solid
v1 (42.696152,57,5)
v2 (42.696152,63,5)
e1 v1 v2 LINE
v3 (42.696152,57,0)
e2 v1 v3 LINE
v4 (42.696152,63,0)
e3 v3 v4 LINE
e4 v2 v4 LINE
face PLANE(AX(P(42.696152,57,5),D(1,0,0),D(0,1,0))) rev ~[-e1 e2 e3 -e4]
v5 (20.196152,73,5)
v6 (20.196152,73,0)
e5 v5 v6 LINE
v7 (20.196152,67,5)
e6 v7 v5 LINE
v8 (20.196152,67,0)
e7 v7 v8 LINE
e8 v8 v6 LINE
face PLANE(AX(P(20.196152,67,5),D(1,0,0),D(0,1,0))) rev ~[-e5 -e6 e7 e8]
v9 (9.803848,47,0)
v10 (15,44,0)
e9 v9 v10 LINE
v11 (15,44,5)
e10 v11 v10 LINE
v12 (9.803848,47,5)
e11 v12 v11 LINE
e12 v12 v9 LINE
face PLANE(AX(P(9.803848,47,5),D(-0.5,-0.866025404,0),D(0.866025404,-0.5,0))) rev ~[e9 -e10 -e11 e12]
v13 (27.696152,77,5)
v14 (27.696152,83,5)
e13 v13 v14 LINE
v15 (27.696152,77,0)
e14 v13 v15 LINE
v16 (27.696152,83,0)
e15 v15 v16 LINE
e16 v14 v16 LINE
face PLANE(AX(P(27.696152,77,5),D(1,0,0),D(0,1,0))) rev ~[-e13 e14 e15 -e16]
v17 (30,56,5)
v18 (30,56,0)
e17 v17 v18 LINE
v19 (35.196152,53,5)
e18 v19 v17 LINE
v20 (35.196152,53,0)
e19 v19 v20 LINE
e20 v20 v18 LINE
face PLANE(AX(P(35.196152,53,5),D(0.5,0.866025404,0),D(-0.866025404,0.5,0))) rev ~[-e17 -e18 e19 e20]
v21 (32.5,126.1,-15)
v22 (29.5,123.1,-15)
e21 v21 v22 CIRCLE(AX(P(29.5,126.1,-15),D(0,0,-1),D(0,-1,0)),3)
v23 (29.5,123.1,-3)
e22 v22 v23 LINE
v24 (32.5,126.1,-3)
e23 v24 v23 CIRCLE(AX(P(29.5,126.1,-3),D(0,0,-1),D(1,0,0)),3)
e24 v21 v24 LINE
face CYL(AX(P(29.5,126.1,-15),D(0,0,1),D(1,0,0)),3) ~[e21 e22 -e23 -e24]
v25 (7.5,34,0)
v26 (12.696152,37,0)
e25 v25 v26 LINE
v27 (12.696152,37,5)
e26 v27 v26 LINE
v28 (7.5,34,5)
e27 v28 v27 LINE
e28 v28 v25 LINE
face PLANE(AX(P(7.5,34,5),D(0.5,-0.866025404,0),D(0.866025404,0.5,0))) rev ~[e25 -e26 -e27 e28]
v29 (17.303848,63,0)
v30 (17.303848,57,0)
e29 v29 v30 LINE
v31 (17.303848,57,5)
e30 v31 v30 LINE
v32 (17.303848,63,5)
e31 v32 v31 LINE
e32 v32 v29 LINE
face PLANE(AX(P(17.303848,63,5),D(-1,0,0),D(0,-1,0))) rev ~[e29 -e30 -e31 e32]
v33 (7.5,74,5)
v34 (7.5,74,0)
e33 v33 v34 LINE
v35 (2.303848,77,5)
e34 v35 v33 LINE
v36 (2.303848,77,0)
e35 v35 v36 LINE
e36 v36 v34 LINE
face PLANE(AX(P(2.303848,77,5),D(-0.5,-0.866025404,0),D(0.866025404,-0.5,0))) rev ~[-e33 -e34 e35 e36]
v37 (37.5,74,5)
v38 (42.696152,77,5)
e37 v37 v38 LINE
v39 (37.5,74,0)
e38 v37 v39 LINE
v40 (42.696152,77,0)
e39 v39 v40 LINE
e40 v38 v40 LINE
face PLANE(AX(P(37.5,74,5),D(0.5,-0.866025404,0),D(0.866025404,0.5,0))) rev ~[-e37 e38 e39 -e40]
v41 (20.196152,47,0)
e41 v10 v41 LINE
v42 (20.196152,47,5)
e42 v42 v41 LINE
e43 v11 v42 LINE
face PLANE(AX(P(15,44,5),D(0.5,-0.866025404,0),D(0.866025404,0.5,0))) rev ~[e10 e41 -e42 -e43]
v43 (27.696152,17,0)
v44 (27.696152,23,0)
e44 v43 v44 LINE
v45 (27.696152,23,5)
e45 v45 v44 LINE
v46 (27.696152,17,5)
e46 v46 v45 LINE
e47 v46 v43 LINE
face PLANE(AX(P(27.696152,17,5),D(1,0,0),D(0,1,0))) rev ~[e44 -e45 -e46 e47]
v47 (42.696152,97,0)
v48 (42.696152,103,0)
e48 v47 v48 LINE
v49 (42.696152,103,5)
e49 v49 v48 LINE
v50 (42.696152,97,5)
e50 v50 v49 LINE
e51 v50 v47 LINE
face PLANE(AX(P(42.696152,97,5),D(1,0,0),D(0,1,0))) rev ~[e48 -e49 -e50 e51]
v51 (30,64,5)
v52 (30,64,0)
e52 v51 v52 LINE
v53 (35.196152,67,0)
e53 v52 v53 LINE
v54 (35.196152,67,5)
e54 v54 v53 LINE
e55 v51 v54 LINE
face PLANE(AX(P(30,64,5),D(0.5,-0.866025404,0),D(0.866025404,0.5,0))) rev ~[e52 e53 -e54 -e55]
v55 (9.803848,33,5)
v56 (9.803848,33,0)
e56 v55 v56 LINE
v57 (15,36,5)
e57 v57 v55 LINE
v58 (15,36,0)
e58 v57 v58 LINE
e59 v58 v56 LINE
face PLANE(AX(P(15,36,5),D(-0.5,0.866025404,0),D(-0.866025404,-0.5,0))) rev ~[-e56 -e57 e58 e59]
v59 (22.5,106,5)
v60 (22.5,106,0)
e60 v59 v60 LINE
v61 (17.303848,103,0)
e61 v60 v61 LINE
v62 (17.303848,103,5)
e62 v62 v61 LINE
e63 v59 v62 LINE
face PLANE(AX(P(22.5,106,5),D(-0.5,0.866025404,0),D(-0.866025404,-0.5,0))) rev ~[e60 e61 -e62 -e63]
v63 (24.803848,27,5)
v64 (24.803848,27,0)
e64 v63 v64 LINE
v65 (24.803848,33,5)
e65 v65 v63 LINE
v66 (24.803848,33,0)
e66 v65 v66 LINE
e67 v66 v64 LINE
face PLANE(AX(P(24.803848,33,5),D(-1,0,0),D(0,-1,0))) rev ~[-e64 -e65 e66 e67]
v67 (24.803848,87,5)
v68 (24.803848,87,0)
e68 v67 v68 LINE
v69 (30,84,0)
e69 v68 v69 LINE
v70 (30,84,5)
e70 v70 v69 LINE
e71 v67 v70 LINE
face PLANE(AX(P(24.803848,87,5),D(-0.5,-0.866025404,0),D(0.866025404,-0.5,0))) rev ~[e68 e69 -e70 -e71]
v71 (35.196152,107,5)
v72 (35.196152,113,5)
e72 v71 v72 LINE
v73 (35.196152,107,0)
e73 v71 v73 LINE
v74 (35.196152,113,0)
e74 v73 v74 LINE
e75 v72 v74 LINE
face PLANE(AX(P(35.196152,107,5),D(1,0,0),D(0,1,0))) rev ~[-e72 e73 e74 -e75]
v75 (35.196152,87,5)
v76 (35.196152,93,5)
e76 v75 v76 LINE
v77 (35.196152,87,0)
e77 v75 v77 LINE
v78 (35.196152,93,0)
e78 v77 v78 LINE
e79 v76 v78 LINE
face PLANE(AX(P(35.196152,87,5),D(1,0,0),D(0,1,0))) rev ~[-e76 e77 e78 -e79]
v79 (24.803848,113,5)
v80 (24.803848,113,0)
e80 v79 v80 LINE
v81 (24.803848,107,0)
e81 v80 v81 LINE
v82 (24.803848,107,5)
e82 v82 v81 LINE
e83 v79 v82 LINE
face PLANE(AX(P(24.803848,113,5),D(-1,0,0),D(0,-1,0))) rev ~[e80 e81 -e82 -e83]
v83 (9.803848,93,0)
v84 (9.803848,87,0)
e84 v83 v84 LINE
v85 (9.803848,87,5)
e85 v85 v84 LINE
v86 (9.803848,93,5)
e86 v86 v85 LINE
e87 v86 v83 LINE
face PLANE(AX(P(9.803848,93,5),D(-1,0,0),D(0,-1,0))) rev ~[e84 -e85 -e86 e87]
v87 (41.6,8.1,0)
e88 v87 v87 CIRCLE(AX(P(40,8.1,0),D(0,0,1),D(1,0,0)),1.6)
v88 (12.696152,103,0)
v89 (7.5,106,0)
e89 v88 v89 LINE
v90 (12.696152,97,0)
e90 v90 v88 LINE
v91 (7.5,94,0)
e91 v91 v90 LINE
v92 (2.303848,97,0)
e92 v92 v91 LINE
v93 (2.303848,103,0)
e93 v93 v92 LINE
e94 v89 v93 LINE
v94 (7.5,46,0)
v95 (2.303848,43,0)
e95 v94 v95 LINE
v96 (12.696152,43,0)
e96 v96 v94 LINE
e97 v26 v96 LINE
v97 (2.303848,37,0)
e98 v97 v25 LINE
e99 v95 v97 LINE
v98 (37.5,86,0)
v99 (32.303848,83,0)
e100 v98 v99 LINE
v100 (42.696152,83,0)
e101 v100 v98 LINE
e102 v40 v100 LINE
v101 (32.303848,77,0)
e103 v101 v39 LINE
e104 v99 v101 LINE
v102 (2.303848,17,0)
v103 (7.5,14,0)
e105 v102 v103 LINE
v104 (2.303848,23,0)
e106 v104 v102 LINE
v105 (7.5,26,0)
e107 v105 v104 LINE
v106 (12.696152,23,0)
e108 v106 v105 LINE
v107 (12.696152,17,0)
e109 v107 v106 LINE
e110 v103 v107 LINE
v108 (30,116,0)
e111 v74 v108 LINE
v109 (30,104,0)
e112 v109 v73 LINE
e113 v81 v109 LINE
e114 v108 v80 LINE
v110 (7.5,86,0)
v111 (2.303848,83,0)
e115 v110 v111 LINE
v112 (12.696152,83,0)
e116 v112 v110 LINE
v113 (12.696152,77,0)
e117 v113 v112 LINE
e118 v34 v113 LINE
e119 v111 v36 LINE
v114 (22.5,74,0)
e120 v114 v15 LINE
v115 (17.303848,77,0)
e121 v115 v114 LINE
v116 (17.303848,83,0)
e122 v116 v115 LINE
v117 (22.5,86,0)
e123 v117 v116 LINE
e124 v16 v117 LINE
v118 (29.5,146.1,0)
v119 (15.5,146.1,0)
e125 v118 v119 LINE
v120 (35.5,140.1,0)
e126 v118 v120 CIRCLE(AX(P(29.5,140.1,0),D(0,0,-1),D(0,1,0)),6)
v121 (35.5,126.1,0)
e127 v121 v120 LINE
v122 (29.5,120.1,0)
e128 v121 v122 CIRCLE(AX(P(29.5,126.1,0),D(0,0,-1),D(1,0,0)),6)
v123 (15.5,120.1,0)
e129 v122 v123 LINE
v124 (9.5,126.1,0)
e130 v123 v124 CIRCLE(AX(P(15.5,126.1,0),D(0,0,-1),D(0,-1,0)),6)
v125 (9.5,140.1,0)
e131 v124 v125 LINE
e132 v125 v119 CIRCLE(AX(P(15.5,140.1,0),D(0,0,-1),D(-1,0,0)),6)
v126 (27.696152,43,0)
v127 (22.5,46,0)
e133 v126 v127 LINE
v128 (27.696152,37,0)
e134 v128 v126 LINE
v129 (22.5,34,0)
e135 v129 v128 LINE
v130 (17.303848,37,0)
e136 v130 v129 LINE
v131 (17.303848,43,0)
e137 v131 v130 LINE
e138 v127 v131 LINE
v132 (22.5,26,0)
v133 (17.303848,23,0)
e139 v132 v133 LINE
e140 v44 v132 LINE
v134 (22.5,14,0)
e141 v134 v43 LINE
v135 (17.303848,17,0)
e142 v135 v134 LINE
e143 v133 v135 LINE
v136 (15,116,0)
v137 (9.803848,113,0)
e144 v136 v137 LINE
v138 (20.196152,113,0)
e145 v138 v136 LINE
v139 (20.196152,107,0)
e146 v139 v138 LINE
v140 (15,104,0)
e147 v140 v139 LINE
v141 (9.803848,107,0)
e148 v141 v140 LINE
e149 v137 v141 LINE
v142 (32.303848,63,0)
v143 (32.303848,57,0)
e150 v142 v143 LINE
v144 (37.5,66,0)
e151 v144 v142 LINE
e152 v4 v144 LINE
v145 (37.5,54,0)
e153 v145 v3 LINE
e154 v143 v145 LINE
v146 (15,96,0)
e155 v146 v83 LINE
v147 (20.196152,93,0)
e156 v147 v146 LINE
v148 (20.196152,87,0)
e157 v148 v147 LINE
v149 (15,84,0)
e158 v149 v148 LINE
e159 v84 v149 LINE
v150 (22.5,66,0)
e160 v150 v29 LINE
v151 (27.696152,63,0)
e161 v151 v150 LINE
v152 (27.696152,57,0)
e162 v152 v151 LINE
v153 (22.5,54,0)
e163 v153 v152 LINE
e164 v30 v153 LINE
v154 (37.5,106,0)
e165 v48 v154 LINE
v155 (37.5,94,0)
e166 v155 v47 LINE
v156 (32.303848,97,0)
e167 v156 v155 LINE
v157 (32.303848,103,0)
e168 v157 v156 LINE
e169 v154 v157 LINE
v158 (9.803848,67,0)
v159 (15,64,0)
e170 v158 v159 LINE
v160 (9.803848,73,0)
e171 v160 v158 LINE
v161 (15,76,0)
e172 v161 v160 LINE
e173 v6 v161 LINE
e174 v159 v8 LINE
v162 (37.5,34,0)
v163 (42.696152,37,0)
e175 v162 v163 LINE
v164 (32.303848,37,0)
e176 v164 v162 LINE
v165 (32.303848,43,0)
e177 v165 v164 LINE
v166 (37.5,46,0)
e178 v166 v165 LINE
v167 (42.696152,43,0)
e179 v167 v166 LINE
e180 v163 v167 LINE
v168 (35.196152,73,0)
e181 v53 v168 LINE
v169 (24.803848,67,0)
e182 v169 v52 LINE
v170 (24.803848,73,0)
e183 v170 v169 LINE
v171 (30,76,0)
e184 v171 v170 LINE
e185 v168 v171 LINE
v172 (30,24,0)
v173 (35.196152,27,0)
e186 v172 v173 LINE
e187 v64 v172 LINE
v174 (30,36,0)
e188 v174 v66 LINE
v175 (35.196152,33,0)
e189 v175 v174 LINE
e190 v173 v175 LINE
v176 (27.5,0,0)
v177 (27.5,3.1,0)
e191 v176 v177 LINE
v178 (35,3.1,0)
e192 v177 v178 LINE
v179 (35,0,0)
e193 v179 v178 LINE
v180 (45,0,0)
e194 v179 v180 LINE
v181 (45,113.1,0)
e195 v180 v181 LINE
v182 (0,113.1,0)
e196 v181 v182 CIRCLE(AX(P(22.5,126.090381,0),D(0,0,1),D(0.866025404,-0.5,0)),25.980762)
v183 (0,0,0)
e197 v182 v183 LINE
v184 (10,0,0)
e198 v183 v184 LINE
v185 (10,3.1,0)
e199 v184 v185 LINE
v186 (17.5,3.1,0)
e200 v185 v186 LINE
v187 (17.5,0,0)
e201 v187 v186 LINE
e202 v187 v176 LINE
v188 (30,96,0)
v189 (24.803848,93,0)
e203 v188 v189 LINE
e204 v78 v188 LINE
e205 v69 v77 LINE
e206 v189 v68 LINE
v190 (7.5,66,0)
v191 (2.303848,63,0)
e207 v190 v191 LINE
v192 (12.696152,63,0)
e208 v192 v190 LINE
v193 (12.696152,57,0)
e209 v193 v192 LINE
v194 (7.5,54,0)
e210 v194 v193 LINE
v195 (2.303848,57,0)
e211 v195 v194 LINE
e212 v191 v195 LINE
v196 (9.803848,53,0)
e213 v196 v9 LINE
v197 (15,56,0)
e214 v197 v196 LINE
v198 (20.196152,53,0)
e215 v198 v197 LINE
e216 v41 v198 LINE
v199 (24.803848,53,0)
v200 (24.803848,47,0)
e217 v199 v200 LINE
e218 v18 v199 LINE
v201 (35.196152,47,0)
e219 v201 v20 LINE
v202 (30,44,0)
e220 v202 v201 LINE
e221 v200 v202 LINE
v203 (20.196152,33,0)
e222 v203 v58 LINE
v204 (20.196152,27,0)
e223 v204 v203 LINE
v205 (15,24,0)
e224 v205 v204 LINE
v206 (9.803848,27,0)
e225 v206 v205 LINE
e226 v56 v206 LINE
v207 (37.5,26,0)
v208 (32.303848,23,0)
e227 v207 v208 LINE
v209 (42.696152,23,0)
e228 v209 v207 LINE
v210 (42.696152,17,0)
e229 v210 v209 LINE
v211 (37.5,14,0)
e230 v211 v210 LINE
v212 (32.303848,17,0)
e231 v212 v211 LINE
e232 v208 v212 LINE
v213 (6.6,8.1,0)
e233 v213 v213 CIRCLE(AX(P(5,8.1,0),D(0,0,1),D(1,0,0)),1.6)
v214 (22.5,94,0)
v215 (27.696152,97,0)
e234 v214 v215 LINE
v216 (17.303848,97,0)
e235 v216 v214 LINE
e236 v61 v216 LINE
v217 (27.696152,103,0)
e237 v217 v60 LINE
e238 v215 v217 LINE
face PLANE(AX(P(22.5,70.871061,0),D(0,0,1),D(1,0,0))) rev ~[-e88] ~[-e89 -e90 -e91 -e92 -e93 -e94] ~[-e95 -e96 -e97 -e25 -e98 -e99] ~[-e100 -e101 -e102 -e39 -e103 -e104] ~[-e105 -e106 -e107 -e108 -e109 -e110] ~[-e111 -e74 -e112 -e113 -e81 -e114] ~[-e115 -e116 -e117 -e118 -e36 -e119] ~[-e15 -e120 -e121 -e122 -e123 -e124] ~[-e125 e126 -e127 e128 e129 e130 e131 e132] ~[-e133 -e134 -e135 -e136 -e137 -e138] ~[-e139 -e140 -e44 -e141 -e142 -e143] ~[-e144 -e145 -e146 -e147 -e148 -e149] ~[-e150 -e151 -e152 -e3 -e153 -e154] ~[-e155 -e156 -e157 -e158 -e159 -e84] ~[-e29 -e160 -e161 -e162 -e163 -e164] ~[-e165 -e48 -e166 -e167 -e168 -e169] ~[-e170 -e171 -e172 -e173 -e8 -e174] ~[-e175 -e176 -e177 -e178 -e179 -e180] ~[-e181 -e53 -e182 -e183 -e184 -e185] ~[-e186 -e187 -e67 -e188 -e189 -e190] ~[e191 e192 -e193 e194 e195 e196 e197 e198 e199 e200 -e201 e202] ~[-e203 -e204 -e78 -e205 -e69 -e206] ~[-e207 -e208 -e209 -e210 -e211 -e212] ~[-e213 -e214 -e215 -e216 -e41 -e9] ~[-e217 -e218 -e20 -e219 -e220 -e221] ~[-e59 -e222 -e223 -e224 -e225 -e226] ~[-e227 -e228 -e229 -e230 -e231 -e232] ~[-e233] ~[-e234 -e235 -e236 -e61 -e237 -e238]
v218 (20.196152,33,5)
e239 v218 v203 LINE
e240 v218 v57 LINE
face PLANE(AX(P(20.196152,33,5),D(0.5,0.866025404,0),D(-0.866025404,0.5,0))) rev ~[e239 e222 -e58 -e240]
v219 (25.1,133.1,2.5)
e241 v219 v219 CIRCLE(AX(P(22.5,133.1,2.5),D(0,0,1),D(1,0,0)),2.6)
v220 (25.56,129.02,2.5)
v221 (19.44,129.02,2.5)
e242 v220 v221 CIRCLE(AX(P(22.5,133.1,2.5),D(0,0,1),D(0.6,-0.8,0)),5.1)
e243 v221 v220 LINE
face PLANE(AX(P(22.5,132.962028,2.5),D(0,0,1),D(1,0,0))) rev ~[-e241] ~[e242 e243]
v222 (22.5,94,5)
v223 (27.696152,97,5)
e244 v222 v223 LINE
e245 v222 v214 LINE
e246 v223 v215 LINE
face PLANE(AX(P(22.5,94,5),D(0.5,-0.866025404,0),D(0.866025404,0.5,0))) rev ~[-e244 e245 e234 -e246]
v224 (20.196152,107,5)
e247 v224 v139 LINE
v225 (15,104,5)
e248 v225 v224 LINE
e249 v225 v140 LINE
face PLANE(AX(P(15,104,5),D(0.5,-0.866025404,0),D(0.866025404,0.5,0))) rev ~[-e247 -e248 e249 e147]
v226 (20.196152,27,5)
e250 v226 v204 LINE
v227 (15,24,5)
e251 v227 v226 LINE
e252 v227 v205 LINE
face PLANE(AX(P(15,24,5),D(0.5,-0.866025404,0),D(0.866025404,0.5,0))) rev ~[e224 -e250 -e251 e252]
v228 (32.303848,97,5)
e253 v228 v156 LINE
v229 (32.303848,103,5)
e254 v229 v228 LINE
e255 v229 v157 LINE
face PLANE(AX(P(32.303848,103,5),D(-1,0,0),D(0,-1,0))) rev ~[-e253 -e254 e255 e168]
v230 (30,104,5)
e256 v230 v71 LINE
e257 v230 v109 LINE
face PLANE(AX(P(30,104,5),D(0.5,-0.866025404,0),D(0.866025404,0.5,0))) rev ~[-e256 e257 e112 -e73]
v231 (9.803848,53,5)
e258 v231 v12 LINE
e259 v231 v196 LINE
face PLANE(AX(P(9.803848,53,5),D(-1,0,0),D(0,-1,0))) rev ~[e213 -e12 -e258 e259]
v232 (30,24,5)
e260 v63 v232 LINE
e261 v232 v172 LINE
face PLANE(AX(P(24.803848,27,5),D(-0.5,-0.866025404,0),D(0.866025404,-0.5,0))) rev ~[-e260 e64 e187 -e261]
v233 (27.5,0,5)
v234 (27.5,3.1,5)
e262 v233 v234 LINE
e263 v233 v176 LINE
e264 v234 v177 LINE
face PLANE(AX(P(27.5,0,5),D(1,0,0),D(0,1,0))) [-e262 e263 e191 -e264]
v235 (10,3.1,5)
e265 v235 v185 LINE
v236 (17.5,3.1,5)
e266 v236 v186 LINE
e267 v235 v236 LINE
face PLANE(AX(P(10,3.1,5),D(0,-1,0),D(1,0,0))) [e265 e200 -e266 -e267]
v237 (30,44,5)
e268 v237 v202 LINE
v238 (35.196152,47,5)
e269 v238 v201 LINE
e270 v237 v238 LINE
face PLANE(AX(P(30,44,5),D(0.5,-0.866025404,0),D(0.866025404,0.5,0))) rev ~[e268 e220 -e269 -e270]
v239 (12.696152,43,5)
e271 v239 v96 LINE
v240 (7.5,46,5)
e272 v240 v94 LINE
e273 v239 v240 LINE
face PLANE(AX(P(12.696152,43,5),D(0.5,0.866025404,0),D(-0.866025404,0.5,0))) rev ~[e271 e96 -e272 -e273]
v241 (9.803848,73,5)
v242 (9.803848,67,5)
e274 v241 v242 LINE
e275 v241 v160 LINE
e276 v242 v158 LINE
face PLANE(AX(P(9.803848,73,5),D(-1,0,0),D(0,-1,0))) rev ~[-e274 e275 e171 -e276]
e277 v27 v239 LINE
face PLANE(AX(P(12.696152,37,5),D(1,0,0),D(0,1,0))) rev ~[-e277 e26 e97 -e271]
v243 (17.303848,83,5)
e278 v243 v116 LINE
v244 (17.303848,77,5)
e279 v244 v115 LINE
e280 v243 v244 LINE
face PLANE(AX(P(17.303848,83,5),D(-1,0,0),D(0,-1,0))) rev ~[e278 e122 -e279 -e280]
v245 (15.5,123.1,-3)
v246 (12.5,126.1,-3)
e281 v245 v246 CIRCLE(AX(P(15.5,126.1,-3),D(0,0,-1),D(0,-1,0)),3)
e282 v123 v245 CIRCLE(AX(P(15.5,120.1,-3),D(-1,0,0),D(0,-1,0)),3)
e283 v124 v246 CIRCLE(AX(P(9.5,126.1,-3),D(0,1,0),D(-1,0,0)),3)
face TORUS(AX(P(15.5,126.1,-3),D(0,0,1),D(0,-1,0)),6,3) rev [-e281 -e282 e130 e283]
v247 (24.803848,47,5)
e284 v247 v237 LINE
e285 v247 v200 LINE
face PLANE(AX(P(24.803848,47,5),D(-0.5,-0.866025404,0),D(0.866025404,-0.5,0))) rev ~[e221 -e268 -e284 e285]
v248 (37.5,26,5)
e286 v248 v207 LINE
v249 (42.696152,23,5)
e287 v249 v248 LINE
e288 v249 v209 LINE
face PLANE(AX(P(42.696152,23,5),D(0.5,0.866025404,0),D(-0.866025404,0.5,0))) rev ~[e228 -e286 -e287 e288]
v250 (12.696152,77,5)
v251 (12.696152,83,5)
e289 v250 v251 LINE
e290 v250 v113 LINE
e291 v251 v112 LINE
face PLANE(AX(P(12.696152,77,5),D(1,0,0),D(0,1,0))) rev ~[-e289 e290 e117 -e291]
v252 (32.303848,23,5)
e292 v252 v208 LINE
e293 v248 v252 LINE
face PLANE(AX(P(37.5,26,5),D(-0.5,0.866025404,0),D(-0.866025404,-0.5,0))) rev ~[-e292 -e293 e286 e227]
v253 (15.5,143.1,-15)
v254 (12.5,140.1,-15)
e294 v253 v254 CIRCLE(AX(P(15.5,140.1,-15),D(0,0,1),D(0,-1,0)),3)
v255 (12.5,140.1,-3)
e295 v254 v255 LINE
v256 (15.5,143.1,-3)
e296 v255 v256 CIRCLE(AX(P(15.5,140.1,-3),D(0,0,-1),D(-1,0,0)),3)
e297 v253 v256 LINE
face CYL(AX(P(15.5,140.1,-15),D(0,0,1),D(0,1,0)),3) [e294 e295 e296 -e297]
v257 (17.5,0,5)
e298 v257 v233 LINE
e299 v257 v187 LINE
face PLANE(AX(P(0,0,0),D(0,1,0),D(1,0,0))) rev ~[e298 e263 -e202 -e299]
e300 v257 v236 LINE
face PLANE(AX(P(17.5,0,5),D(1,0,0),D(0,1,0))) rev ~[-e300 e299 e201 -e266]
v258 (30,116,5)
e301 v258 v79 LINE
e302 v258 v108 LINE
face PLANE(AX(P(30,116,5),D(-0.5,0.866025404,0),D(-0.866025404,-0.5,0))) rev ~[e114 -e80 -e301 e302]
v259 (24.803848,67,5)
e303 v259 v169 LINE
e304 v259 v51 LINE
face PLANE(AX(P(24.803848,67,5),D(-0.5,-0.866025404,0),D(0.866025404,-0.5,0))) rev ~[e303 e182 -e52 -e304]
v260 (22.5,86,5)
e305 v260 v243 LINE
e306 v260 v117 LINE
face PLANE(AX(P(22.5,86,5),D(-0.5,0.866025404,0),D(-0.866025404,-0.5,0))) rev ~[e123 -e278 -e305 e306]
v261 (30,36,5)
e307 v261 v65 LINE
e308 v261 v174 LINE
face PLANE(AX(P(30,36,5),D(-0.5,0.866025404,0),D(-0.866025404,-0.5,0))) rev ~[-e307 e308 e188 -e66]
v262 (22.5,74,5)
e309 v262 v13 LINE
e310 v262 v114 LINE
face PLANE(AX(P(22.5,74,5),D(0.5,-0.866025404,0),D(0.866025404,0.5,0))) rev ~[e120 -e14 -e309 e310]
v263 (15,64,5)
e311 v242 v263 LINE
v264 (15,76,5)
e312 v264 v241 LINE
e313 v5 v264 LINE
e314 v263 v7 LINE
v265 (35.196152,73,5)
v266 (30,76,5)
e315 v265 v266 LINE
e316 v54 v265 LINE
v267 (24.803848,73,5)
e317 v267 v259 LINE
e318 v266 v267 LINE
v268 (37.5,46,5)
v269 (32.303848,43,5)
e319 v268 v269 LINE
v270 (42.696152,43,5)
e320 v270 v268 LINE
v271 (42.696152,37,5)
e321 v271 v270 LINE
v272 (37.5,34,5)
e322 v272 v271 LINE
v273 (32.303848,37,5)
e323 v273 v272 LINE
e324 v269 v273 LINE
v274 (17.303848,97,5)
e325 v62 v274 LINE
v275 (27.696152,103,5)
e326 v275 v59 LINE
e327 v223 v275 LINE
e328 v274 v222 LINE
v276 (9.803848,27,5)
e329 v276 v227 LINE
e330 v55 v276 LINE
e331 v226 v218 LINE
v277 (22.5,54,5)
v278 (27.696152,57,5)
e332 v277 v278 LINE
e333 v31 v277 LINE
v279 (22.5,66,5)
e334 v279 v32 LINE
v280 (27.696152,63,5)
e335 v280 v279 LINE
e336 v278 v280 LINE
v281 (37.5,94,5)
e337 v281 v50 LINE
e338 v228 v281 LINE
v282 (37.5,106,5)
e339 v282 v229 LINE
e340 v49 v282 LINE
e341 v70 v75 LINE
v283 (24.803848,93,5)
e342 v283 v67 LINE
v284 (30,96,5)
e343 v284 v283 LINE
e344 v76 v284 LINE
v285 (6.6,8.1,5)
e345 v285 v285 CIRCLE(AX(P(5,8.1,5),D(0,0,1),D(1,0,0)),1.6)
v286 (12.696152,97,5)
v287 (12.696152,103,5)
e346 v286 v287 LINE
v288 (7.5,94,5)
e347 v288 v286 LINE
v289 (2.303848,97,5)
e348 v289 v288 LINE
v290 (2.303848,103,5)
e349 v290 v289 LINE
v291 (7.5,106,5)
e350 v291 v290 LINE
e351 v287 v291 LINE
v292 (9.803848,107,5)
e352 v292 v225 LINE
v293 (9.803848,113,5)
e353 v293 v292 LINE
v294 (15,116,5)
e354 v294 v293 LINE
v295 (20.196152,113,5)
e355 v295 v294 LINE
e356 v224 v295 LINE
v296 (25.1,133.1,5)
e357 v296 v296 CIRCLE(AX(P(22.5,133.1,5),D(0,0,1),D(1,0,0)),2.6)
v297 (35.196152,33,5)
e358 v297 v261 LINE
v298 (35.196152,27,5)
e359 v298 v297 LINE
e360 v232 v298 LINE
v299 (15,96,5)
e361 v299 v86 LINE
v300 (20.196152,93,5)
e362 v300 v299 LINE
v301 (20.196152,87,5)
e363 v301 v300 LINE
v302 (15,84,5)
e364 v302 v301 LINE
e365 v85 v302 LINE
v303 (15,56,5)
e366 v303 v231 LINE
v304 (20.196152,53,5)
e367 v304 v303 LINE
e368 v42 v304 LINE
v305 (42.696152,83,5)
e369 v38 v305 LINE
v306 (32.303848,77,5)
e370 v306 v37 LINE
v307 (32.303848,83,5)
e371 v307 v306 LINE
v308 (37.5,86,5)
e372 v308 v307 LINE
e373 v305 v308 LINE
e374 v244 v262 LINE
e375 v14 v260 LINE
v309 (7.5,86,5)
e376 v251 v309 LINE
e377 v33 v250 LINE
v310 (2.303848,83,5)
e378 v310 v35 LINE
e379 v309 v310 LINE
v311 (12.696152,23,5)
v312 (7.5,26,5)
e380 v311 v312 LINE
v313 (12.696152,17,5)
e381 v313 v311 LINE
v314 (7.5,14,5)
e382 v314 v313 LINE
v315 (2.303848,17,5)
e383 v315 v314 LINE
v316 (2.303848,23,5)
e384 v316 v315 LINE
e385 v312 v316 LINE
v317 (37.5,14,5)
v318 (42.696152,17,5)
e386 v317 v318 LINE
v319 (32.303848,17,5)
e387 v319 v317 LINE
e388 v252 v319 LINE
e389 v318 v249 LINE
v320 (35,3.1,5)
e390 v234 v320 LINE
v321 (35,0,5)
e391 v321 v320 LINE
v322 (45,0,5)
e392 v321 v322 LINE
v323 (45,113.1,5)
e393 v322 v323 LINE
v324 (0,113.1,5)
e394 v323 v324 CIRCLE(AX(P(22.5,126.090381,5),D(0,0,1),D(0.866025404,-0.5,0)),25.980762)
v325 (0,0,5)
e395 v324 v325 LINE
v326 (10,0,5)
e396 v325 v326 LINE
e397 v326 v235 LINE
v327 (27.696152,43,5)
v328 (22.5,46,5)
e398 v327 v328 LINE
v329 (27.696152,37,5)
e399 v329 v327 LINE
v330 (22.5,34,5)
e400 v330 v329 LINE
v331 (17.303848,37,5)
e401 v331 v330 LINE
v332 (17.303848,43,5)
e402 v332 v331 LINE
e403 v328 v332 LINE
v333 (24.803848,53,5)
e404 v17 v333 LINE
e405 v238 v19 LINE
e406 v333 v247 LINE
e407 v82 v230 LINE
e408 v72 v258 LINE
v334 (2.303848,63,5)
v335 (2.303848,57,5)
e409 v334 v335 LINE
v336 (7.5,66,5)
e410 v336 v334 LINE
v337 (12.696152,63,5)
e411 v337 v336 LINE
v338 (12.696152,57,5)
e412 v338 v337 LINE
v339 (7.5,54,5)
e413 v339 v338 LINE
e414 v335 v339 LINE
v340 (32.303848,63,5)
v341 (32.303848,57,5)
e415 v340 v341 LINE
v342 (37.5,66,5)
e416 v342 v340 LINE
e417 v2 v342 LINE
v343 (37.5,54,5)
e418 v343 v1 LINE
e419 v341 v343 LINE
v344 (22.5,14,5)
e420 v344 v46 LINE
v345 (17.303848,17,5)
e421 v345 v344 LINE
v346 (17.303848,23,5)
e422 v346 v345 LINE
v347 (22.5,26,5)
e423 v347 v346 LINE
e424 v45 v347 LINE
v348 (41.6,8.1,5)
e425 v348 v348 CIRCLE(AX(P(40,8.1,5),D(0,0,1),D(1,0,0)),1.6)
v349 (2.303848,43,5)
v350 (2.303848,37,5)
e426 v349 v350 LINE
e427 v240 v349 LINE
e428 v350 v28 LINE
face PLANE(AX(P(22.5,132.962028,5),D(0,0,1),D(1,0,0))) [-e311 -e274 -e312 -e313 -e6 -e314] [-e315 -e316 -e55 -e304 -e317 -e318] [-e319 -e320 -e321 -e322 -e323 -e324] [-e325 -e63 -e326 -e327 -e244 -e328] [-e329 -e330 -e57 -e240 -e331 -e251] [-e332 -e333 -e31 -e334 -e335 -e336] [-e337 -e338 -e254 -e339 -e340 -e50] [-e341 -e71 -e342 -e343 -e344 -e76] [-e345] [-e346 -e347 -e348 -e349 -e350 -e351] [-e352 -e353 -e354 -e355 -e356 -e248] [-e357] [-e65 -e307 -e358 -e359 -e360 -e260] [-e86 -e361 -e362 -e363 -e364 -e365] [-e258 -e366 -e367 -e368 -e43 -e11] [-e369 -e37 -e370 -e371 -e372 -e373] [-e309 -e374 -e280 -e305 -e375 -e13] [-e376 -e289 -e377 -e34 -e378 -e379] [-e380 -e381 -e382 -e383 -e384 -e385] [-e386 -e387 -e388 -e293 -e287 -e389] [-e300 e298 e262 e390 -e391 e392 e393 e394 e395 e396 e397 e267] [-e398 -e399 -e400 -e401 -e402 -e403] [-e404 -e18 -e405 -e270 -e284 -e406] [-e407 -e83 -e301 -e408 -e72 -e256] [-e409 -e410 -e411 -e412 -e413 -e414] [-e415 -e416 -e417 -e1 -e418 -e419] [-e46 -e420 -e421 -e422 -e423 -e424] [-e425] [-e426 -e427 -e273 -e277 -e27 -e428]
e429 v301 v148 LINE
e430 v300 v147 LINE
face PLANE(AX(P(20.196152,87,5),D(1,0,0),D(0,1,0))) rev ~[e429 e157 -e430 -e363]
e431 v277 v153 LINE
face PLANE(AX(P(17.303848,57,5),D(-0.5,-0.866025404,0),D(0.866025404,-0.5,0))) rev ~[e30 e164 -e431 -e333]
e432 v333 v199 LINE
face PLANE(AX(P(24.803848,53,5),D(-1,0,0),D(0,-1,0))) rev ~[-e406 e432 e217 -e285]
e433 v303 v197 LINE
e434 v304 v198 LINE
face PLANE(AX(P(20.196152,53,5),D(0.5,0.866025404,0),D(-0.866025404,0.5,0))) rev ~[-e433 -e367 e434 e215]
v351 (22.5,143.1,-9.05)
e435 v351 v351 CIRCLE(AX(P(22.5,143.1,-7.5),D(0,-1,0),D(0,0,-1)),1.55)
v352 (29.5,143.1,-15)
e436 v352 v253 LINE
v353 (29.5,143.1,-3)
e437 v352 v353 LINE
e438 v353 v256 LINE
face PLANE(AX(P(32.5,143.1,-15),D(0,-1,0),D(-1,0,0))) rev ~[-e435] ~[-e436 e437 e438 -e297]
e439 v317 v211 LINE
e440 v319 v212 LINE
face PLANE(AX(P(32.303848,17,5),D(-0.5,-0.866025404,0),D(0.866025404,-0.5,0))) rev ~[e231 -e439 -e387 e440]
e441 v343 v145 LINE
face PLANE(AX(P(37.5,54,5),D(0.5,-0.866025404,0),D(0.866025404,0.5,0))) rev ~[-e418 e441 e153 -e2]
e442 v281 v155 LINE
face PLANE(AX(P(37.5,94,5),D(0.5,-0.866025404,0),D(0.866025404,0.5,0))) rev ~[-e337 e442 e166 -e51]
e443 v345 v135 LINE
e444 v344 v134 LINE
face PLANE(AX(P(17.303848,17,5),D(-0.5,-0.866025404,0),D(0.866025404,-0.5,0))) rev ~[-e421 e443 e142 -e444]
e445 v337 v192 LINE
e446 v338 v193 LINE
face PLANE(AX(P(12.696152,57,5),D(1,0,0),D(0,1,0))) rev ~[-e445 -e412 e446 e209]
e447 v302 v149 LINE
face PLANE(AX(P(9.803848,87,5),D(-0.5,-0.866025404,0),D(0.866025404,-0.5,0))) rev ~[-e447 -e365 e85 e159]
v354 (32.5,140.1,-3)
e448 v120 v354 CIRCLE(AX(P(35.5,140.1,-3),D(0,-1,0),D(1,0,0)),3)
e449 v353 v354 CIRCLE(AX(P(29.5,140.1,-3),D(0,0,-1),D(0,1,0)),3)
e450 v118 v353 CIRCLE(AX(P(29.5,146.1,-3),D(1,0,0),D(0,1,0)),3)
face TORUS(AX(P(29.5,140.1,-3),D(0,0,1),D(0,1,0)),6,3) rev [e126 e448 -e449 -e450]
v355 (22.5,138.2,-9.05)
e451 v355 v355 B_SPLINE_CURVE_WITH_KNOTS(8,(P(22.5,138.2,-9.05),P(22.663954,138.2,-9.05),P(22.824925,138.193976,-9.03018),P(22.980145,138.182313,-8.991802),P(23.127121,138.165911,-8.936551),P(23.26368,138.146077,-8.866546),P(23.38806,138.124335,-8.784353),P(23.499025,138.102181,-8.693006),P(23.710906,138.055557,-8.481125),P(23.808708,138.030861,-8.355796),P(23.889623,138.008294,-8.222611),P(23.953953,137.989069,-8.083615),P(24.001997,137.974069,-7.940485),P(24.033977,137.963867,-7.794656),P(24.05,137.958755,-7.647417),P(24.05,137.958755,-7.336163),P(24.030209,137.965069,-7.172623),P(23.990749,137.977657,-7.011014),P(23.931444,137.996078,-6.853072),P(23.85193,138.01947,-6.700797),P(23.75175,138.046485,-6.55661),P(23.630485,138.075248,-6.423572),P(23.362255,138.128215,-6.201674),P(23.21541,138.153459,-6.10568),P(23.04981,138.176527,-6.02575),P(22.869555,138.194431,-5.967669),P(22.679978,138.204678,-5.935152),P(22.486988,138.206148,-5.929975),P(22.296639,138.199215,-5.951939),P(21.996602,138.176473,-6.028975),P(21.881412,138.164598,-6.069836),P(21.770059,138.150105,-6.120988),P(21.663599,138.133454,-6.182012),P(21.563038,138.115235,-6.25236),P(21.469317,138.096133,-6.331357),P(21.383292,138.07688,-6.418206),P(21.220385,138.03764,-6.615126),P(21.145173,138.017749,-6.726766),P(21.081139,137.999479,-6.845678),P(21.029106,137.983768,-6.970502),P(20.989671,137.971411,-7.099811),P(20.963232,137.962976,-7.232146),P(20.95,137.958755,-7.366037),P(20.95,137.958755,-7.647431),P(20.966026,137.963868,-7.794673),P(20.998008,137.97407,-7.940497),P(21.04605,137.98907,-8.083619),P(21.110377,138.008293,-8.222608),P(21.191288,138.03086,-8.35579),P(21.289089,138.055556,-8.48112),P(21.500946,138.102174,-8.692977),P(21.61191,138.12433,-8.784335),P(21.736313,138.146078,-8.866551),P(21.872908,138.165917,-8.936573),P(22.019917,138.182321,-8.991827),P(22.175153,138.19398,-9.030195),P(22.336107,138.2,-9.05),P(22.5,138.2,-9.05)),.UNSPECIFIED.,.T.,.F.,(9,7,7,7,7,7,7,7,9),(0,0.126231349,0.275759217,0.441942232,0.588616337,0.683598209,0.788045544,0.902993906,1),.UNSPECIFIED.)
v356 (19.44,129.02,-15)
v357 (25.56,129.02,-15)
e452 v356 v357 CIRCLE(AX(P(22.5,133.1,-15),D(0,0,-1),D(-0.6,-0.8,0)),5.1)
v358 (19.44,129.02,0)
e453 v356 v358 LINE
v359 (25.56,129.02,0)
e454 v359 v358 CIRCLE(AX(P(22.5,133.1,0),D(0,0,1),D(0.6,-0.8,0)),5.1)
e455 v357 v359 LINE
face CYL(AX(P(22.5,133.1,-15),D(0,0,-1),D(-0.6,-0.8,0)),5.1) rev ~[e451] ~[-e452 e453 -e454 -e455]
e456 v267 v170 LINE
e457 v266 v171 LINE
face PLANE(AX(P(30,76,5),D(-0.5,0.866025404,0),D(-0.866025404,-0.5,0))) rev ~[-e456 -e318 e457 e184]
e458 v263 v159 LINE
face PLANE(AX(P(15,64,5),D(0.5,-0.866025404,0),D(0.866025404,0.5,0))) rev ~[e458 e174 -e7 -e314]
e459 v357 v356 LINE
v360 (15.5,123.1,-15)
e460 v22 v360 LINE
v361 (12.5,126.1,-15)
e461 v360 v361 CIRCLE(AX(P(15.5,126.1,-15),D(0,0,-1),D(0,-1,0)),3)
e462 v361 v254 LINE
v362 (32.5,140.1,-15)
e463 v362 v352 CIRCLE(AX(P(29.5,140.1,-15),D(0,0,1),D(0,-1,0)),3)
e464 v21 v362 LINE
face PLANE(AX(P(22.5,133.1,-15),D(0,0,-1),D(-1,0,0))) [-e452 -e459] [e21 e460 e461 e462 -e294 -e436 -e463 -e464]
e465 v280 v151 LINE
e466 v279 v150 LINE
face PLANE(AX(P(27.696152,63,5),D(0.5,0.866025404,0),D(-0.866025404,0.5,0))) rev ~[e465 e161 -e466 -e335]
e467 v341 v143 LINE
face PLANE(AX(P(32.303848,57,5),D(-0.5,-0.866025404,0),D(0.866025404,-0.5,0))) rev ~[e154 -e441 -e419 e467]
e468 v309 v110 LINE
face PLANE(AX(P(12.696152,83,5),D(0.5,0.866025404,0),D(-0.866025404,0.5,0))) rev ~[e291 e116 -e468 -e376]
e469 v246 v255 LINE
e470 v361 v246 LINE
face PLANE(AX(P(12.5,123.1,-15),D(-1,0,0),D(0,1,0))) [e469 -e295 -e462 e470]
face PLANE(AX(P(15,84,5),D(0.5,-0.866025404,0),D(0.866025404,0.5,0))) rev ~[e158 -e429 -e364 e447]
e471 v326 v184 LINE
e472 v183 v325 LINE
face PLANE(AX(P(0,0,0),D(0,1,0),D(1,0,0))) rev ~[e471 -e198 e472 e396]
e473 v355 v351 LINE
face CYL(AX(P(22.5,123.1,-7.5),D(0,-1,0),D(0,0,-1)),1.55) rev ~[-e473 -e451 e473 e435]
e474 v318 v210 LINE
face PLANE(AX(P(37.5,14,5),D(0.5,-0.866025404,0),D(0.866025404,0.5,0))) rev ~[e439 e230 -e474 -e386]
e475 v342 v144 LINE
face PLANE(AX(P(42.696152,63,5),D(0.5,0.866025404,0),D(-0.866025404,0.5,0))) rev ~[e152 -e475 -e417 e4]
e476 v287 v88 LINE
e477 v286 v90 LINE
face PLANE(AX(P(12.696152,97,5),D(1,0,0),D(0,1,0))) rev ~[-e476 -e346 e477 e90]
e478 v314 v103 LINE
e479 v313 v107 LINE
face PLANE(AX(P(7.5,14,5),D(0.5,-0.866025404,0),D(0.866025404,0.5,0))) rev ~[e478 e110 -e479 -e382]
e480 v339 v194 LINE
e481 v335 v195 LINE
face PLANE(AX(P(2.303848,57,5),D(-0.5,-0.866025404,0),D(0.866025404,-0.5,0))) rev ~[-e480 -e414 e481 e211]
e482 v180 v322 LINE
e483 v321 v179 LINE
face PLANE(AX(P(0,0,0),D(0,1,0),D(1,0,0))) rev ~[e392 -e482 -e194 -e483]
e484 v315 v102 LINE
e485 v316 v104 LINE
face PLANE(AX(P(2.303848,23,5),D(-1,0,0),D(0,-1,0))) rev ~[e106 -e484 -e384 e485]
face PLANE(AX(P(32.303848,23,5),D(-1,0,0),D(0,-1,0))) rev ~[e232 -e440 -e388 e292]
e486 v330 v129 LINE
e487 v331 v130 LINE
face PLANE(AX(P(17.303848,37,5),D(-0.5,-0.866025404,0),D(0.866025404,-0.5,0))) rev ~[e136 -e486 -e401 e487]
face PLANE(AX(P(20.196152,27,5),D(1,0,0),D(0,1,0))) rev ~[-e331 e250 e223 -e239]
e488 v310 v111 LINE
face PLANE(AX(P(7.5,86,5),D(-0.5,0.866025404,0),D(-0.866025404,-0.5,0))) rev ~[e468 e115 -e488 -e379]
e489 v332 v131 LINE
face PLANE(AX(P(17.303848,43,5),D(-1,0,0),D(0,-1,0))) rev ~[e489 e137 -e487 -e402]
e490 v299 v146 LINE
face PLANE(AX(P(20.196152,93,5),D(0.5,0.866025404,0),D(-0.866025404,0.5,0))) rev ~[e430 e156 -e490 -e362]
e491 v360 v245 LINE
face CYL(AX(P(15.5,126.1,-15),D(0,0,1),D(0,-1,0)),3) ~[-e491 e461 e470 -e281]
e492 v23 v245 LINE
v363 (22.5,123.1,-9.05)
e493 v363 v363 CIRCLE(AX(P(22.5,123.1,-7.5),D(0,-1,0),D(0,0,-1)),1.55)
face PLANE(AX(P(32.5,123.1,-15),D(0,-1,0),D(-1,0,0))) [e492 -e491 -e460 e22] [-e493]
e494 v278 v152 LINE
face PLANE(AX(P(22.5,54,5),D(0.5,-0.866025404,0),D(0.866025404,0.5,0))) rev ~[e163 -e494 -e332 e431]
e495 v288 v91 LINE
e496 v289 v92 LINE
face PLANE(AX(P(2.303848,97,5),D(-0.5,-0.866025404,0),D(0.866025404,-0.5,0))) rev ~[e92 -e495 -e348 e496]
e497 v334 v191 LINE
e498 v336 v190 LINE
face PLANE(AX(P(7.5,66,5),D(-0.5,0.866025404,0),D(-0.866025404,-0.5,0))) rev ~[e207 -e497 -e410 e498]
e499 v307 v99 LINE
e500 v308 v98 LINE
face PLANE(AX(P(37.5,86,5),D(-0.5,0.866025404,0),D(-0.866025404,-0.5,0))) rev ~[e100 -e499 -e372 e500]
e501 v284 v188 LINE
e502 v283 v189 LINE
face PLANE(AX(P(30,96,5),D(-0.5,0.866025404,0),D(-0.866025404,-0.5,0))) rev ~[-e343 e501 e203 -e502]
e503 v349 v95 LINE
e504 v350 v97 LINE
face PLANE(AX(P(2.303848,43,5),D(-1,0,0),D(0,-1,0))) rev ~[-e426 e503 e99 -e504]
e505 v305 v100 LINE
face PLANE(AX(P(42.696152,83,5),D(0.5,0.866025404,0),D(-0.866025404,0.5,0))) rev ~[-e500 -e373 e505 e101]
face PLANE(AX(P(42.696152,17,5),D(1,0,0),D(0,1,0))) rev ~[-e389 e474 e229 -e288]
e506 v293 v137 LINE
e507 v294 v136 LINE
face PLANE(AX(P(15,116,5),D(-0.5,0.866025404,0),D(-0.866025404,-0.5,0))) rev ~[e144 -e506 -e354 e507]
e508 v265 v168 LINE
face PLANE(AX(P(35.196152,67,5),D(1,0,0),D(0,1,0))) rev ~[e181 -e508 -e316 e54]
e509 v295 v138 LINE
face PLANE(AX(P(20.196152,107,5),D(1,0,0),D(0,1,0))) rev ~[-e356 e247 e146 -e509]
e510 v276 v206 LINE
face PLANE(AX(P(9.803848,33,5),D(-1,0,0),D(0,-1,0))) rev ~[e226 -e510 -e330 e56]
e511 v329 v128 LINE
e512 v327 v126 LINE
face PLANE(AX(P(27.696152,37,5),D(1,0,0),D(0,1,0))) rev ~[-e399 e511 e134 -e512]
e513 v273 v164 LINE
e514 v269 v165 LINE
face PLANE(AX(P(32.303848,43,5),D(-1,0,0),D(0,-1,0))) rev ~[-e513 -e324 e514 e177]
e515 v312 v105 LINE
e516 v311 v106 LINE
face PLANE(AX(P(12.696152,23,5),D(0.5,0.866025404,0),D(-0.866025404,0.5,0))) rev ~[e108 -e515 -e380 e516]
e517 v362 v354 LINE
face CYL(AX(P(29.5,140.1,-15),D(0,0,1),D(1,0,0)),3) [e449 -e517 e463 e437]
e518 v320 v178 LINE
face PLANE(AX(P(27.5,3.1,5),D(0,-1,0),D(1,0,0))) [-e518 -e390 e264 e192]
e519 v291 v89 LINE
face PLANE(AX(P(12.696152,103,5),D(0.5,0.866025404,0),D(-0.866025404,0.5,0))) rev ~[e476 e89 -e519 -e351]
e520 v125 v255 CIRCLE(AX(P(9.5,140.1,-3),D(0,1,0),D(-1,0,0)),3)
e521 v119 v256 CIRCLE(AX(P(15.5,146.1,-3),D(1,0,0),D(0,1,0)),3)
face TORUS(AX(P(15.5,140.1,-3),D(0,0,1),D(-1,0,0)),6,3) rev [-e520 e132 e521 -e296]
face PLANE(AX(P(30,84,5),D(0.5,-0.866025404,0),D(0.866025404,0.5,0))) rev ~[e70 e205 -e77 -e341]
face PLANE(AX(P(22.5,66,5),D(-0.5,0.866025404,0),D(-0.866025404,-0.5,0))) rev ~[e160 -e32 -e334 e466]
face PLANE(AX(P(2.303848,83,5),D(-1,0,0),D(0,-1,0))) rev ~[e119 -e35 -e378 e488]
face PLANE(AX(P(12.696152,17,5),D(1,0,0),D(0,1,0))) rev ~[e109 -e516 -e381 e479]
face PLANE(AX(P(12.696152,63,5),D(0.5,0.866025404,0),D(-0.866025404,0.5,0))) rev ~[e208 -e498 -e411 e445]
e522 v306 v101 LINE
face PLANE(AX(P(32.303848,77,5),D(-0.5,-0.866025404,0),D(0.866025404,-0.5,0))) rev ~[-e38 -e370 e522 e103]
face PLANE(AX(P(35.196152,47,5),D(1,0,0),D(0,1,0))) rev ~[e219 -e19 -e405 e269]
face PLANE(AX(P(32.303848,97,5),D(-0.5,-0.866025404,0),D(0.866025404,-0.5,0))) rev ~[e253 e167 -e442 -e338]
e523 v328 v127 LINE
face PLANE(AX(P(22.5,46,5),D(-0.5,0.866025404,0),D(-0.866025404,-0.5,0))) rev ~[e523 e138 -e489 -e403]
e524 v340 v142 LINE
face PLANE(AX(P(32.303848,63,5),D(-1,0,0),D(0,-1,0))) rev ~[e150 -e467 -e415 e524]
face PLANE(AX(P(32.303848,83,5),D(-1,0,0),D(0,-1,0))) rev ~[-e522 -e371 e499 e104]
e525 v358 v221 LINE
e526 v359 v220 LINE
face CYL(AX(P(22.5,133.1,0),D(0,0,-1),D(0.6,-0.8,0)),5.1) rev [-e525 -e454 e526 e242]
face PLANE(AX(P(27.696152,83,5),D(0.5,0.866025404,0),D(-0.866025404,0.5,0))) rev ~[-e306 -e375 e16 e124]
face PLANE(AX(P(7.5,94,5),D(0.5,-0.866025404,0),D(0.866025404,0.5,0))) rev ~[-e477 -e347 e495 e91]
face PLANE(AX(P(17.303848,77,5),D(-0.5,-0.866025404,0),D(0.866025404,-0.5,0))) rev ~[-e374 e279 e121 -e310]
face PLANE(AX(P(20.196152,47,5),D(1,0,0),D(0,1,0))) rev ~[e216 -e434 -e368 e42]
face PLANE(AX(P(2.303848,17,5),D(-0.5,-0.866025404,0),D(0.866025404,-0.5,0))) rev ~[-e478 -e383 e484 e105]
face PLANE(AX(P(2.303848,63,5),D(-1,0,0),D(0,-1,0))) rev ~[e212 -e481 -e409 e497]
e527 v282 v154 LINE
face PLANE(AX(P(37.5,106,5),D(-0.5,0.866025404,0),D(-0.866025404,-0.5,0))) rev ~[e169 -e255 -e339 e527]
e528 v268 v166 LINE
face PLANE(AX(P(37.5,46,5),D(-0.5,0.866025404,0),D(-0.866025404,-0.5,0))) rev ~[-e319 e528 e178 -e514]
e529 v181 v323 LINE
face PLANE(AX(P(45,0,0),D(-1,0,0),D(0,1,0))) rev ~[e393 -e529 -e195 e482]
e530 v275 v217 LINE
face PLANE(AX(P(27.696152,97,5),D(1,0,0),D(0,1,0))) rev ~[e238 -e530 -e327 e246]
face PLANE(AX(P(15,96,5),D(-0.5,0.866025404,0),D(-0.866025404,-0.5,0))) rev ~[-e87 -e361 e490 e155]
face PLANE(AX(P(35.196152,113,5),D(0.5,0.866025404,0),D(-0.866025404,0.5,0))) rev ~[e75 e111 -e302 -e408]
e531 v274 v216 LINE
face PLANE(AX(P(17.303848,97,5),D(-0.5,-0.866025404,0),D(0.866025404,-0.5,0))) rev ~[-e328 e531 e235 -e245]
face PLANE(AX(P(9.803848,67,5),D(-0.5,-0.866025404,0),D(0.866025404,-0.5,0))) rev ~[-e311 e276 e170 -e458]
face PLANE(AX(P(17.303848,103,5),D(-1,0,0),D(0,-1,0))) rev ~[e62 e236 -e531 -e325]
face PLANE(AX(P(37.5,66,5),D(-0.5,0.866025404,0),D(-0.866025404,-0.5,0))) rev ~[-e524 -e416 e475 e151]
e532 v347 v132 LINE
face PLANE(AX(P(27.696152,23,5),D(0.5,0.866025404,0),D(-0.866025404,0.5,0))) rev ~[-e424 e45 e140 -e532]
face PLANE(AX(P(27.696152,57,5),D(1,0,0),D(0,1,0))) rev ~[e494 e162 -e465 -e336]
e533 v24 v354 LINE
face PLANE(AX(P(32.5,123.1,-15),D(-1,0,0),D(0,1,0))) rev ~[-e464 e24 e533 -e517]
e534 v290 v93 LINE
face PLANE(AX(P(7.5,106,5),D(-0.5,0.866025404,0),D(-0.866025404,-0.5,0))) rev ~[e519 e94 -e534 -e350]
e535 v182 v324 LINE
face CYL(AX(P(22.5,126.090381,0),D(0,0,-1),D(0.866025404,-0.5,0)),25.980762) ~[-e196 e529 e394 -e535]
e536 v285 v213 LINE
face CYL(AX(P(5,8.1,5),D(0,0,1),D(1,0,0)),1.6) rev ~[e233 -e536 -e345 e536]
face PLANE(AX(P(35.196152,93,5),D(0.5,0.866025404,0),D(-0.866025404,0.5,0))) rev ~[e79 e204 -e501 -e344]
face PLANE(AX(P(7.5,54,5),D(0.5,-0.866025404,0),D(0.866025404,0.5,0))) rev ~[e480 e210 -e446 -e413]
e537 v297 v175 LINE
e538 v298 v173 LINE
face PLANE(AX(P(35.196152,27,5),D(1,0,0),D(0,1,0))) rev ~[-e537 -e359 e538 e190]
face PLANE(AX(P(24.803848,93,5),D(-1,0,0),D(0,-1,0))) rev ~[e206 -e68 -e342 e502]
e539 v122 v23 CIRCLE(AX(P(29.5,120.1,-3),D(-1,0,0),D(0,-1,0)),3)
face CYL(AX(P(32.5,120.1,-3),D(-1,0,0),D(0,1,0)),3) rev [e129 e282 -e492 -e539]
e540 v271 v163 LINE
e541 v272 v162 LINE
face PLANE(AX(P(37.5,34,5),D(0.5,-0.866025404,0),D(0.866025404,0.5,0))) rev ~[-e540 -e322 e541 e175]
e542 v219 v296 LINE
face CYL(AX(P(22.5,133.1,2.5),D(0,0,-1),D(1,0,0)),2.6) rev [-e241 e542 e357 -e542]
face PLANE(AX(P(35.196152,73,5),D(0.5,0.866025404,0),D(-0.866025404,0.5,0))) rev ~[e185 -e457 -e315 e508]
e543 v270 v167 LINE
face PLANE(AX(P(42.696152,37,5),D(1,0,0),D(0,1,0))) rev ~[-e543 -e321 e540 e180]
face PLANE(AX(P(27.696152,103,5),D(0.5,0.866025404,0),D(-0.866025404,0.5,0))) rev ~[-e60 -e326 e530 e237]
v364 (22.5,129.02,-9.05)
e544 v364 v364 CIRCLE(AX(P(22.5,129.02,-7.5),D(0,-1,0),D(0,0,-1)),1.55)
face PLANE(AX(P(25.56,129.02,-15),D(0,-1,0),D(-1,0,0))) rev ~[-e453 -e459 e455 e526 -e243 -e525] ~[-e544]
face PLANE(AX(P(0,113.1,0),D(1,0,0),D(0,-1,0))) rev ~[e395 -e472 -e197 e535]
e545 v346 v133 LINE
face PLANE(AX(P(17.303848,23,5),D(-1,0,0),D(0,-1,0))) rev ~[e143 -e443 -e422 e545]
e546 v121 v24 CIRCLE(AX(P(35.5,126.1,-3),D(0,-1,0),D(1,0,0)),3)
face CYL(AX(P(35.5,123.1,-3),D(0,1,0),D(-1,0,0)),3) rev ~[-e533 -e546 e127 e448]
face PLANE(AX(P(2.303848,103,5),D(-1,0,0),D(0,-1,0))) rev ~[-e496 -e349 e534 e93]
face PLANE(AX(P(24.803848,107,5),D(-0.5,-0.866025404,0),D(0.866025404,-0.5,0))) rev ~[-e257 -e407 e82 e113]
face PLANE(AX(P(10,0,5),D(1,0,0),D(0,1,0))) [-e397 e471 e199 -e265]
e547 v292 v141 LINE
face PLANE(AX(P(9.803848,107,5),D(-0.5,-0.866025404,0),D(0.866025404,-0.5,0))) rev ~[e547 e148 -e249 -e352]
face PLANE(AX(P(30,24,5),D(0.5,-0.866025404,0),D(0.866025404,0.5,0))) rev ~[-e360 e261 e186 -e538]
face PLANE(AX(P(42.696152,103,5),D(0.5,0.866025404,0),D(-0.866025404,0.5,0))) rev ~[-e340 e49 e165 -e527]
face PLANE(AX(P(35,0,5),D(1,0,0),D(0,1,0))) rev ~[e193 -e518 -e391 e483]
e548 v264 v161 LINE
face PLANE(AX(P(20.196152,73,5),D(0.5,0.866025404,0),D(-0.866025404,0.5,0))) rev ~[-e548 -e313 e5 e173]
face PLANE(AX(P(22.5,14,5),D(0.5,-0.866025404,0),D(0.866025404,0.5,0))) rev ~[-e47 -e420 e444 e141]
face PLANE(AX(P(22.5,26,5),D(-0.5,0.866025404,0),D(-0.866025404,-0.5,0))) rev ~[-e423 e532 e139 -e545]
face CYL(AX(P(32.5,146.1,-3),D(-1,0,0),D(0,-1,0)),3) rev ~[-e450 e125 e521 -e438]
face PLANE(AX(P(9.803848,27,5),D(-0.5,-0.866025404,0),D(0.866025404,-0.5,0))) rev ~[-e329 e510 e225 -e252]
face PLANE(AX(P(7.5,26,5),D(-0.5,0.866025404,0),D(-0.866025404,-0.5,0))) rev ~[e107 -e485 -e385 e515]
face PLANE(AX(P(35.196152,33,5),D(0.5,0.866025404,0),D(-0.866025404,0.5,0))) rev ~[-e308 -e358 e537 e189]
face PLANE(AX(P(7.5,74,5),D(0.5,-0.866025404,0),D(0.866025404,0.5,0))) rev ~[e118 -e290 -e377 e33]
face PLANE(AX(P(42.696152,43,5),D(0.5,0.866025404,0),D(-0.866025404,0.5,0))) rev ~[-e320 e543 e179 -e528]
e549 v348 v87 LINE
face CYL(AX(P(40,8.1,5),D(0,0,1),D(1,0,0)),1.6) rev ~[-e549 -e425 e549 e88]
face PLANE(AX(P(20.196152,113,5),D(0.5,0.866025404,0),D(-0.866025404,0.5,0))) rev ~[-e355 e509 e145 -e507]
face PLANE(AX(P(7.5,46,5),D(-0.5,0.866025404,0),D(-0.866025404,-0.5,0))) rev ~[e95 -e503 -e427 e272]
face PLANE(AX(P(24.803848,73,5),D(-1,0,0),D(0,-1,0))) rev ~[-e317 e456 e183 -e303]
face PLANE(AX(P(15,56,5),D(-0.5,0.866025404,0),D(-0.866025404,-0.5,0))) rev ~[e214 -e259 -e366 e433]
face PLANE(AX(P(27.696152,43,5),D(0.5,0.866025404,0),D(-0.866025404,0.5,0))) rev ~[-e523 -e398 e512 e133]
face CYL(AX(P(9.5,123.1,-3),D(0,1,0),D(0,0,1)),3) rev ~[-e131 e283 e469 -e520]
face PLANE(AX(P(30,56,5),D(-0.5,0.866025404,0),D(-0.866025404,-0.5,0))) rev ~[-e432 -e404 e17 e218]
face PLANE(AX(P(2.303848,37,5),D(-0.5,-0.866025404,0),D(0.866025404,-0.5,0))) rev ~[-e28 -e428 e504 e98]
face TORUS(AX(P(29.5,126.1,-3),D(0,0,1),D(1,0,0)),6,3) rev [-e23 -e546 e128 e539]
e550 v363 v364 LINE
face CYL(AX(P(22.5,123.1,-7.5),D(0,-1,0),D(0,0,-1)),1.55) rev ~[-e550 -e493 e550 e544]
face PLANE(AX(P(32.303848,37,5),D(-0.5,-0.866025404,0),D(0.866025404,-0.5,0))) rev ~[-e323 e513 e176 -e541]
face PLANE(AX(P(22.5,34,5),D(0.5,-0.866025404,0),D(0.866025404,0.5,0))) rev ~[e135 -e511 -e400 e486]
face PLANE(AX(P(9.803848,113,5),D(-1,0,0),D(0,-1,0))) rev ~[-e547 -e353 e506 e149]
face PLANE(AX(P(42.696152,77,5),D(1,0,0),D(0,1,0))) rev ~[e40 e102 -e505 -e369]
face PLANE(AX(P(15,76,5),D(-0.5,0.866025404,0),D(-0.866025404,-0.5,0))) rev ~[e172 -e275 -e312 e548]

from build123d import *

# Parameters (mm, degrees)
EXTRUDE_1_DEPTH     = 5
SKETCH_2_R          = 1.6
SKETCH_2_W          = 7.5
SKETCH_2_H          = 3.1
CUT_EXTRUDE_1_DEPTH = 5
EXTRUDE_START       = -2.5
SKETCH_3_R          = 2.6
EXTRUDE_2_DEPTH     = 2.5
EXTRUDE_START_2     = 15
SKETCH_4_W          = 20
SKETCH_4_H          = 20
EXTRUDE_3_DEPTH     = 15
CUT_EXTRUDE_2_REACH = 135.15
SKETCH_5_R          = 1.55
FILLET_2_R          = 3


with BuildPart() as part:
    # 草图1 → 凸台-拉伸1 (new body)
    with BuildSketch(Plane.XY):
        with BuildLine():
            Line((0, 0), (45, 0))
            Line((45, 0), (45, 113.1))
            ThreePointArc((45, 113.1), (22.5, 152.07114317), (0, 113.1))
            Line((0, 113.1), (0, 0))
        make_face()
        with BuildLine():
            Line((19.44, 129.02), (25.56, 129.02))
            ThreePointArc((25.56, 129.02), (22.5, 138.2), (19.44, 129.02))
        make_face(mode=Mode.SUBTRACT)
    extrude(amount=EXTRUDE_1_DEPTH)

    # 草图2 → 切除-拉伸1 (cut)
    with BuildSketch(Plane.XY.offset(5)):
        with Locations((40, 8.1)):
            Circle(SKETCH_2_R)
        with Locations((5, 8.1)):
            Circle(SKETCH_2_R)
        with Locations((31.25, 1.55)):
            Rectangle(SKETCH_2_W, SKETCH_2_H)
        with Locations((13.75, 1.55)):
            Rectangle(SKETCH_2_W, SKETCH_2_H)
        Polygon((7.5, 26), (2.303847577, 23), (2.303847577, 17), (7.5, 14), (12.696152423, 17), (12.696152423, 23), align=None)
        Polygon((22.5, 26), (17.303847577, 23), (17.303847577, 17), (22.5, 14), (27.696152423, 17), (27.696152423, 23), align=None)
        Polygon((37.5, 26), (32.303847577, 23), (32.303847577, 17), (37.5, 14), (42.696152423, 17), (42.696152423, 23), align=None)
        Polygon((15, 56), (9.803847577, 53), (9.803847577, 47), (15, 44), (20.196152423, 47), (20.196152423, 53), align=None)
        Polygon((15, 36), (9.803847577, 33), (9.803847577, 27), (15, 24), (20.196152423, 27), (20.196152423, 33), align=None)
        Polygon((30, 36), (24.803847577, 33), (24.803847577, 27), (30, 24), (35.196152423, 27), (35.196152423, 33), align=None)
        Polygon((30, 56), (24.803847577, 53), (24.803847577, 47), (30, 44), (35.196152423, 47), (35.196152423, 53), align=None)
        Polygon((37.5, 46), (32.303847577, 43), (32.303847577, 37), (37.5, 34), (42.696152423, 37), (42.696152423, 43), align=None)
        Polygon((22.5, 46), (17.303847577, 43), (17.303847577, 37), (22.5, 34), (27.696152423, 37), (27.696152423, 43), align=None)
        Polygon((7.5, 46), (2.303847577, 43), (2.303847577, 37), (7.5, 34), (12.696152423, 37), (12.696152423, 43), align=None)
        Polygon((15, 76), (9.803847577, 73), (9.803847577, 67), (15, 64), (20.196152423, 67), (20.196152423, 73), align=None)
        Polygon((30, 76), (24.803847577, 73), (24.803847577, 67), (30, 64), (35.196152423, 67), (35.196152423, 73), align=None)
        Polygon((37.5, 66), (32.303847577, 63), (32.303847577, 57), (37.5, 54), (42.696152423, 57), (42.696152423, 63), align=None)
        Polygon((22.5, 66), (17.303847577, 63), (17.303847577, 57), (22.5, 54), (27.696152423, 57), (27.696152423, 63), align=None)
        Polygon((7.5, 66), (2.303847577, 63), (2.303847577, 57), (7.5, 54), (12.696152423, 57), (12.696152423, 63), align=None)
        Polygon((15, 96), (9.803847577, 93), (9.803847577, 87), (15, 84), (20.196152423, 87), (20.196152423, 93), align=None)
        Polygon((30, 96), (24.803847577, 93), (24.803847577, 87), (30, 84), (35.196152423, 87), (35.196152423, 93), align=None)
        Polygon((37.5, 86), (32.303847577, 83), (32.303847577, 77), (37.5, 74), (42.696152423, 77), (42.696152423, 83), align=None)
        Polygon((22.5, 86), (17.303847577, 83), (17.303847577, 77), (22.5, 74), (27.696152423, 77), (27.696152423, 83), align=None)
        Polygon((7.5, 86), (2.303847577, 83), (2.303847577, 77), (7.5, 74), (12.696152423, 77), (12.696152423, 83), align=None)
        Polygon((15, 116), (9.803847577, 113), (9.803847577, 107), (15, 104), (20.196152423, 107), (20.196152423, 113), align=None)
        Polygon((30, 116), (24.803847577, 113), (24.803847577, 107), (30, 104), (35.196152423, 107), (35.196152423, 113), align=None)
        Polygon((37.5, 106), (32.303847577, 103), (32.303847577, 97), (37.5, 94), (42.696152423, 97), (42.696152423, 103), align=None)
        Polygon((22.5, 106), (17.303847577, 103), (17.303847577, 97), (22.5, 94), (27.696152423, 97), (27.696152423, 103), align=None)
        Polygon((7.5, 106), (2.303847577, 103), (2.303847577, 97), (7.5, 94), (12.696152423, 97), (12.696152423, 103), align=None)
    extrude(amount=-CUT_EXTRUDE_1_DEPTH, mode=Mode.SUBTRACT)

    # 草图3 → 凸台-拉伸2 (add)
    with BuildSketch(Plane.XY.offset(5).offset(EXTRUDE_START)):
        with BuildLine():
            Line((19.44, 129.02), (25.56, 129.02))
            ThreePointArc((25.56, 129.02), (22.5, 138.2), (19.44, 129.02))
        make_face()
        with Locations((22.5, 133.1)):
            Circle(SKETCH_3_R, mode=Mode.SUBTRACT)
    extrude(amount=EXTRUDE_2_DEPTH)

    # 草图4 → 凸台-拉伸3 (add)
    with BuildSketch(Plane(origin=(0, 0, 0), x_dir=(-1, 0, 0), z_dir=(0, 0, -1)).offset(EXTRUDE_START_2)):
        with Locations((-22.5, 133.1)):
            Rectangle(SKETCH_4_W, SKETCH_4_H)
        with BuildLine():
            Line((-25.56, 129.02), (-19.44, 129.02))
            ThreePointArc((-19.44, 129.02), (-22.5, 138.2), (-25.56, 129.02))
        make_face(mode=Mode.SUBTRACT)
    extrude(amount=-EXTRUDE_3_DEPTH)

    # 切除-拉伸2: up to this face of the body (flat: up to its plane)
    cut_extrude_2_end = Plane(part.part.faces().sort_by_distance((22.5, 143.1, -7.5))[0])
    # 草图5 → 切除-拉伸2 (cut, up to the picked face)
    with BuildSketch(Plane.XZ.offset(-123.1), mode=Mode.PRIVATE) as cut_extrude_2_sk1:
        with Locations(Location((22.5, -7.5, 0), (0, 0, 270))):
            Circle(SKETCH_5_R)
    cut_extrude_2_tool1 = split(extrude(cut_extrude_2_sk1.sketch, amount=-CUT_EXTRUDE_2_REACH, mode=Mode.PRIVATE), bisect_by=cut_extrude_2_end, keep=Keep.BOTH, mode=Mode.PRIVATE)
    add(cut_extrude_2_tool1.solids().sort_by(Axis((22.5, 123.1, -7.5), (0, 1, 0)))[0], mode=Mode.SUBTRACT)

    # 圆角2
    fillet_2_edges = [part.edges().sort_by_distance(p)[0] for p in [
        (32.5, 133.1, 0),
        (32.5, 143.1, -7.5),
        (22.5, 123.1, 0),
        (32.5, 123.1, -7.5),
        (12.5, 133.1, 0),
        (12.5, 123.1, -7.5),
        (22.5, 143.1, 0),
        (12.5, 143.1, -7.5),
    ]]
    fillet(fillet_2_edges, radius=FILLET_2_R)


solid = part.part
